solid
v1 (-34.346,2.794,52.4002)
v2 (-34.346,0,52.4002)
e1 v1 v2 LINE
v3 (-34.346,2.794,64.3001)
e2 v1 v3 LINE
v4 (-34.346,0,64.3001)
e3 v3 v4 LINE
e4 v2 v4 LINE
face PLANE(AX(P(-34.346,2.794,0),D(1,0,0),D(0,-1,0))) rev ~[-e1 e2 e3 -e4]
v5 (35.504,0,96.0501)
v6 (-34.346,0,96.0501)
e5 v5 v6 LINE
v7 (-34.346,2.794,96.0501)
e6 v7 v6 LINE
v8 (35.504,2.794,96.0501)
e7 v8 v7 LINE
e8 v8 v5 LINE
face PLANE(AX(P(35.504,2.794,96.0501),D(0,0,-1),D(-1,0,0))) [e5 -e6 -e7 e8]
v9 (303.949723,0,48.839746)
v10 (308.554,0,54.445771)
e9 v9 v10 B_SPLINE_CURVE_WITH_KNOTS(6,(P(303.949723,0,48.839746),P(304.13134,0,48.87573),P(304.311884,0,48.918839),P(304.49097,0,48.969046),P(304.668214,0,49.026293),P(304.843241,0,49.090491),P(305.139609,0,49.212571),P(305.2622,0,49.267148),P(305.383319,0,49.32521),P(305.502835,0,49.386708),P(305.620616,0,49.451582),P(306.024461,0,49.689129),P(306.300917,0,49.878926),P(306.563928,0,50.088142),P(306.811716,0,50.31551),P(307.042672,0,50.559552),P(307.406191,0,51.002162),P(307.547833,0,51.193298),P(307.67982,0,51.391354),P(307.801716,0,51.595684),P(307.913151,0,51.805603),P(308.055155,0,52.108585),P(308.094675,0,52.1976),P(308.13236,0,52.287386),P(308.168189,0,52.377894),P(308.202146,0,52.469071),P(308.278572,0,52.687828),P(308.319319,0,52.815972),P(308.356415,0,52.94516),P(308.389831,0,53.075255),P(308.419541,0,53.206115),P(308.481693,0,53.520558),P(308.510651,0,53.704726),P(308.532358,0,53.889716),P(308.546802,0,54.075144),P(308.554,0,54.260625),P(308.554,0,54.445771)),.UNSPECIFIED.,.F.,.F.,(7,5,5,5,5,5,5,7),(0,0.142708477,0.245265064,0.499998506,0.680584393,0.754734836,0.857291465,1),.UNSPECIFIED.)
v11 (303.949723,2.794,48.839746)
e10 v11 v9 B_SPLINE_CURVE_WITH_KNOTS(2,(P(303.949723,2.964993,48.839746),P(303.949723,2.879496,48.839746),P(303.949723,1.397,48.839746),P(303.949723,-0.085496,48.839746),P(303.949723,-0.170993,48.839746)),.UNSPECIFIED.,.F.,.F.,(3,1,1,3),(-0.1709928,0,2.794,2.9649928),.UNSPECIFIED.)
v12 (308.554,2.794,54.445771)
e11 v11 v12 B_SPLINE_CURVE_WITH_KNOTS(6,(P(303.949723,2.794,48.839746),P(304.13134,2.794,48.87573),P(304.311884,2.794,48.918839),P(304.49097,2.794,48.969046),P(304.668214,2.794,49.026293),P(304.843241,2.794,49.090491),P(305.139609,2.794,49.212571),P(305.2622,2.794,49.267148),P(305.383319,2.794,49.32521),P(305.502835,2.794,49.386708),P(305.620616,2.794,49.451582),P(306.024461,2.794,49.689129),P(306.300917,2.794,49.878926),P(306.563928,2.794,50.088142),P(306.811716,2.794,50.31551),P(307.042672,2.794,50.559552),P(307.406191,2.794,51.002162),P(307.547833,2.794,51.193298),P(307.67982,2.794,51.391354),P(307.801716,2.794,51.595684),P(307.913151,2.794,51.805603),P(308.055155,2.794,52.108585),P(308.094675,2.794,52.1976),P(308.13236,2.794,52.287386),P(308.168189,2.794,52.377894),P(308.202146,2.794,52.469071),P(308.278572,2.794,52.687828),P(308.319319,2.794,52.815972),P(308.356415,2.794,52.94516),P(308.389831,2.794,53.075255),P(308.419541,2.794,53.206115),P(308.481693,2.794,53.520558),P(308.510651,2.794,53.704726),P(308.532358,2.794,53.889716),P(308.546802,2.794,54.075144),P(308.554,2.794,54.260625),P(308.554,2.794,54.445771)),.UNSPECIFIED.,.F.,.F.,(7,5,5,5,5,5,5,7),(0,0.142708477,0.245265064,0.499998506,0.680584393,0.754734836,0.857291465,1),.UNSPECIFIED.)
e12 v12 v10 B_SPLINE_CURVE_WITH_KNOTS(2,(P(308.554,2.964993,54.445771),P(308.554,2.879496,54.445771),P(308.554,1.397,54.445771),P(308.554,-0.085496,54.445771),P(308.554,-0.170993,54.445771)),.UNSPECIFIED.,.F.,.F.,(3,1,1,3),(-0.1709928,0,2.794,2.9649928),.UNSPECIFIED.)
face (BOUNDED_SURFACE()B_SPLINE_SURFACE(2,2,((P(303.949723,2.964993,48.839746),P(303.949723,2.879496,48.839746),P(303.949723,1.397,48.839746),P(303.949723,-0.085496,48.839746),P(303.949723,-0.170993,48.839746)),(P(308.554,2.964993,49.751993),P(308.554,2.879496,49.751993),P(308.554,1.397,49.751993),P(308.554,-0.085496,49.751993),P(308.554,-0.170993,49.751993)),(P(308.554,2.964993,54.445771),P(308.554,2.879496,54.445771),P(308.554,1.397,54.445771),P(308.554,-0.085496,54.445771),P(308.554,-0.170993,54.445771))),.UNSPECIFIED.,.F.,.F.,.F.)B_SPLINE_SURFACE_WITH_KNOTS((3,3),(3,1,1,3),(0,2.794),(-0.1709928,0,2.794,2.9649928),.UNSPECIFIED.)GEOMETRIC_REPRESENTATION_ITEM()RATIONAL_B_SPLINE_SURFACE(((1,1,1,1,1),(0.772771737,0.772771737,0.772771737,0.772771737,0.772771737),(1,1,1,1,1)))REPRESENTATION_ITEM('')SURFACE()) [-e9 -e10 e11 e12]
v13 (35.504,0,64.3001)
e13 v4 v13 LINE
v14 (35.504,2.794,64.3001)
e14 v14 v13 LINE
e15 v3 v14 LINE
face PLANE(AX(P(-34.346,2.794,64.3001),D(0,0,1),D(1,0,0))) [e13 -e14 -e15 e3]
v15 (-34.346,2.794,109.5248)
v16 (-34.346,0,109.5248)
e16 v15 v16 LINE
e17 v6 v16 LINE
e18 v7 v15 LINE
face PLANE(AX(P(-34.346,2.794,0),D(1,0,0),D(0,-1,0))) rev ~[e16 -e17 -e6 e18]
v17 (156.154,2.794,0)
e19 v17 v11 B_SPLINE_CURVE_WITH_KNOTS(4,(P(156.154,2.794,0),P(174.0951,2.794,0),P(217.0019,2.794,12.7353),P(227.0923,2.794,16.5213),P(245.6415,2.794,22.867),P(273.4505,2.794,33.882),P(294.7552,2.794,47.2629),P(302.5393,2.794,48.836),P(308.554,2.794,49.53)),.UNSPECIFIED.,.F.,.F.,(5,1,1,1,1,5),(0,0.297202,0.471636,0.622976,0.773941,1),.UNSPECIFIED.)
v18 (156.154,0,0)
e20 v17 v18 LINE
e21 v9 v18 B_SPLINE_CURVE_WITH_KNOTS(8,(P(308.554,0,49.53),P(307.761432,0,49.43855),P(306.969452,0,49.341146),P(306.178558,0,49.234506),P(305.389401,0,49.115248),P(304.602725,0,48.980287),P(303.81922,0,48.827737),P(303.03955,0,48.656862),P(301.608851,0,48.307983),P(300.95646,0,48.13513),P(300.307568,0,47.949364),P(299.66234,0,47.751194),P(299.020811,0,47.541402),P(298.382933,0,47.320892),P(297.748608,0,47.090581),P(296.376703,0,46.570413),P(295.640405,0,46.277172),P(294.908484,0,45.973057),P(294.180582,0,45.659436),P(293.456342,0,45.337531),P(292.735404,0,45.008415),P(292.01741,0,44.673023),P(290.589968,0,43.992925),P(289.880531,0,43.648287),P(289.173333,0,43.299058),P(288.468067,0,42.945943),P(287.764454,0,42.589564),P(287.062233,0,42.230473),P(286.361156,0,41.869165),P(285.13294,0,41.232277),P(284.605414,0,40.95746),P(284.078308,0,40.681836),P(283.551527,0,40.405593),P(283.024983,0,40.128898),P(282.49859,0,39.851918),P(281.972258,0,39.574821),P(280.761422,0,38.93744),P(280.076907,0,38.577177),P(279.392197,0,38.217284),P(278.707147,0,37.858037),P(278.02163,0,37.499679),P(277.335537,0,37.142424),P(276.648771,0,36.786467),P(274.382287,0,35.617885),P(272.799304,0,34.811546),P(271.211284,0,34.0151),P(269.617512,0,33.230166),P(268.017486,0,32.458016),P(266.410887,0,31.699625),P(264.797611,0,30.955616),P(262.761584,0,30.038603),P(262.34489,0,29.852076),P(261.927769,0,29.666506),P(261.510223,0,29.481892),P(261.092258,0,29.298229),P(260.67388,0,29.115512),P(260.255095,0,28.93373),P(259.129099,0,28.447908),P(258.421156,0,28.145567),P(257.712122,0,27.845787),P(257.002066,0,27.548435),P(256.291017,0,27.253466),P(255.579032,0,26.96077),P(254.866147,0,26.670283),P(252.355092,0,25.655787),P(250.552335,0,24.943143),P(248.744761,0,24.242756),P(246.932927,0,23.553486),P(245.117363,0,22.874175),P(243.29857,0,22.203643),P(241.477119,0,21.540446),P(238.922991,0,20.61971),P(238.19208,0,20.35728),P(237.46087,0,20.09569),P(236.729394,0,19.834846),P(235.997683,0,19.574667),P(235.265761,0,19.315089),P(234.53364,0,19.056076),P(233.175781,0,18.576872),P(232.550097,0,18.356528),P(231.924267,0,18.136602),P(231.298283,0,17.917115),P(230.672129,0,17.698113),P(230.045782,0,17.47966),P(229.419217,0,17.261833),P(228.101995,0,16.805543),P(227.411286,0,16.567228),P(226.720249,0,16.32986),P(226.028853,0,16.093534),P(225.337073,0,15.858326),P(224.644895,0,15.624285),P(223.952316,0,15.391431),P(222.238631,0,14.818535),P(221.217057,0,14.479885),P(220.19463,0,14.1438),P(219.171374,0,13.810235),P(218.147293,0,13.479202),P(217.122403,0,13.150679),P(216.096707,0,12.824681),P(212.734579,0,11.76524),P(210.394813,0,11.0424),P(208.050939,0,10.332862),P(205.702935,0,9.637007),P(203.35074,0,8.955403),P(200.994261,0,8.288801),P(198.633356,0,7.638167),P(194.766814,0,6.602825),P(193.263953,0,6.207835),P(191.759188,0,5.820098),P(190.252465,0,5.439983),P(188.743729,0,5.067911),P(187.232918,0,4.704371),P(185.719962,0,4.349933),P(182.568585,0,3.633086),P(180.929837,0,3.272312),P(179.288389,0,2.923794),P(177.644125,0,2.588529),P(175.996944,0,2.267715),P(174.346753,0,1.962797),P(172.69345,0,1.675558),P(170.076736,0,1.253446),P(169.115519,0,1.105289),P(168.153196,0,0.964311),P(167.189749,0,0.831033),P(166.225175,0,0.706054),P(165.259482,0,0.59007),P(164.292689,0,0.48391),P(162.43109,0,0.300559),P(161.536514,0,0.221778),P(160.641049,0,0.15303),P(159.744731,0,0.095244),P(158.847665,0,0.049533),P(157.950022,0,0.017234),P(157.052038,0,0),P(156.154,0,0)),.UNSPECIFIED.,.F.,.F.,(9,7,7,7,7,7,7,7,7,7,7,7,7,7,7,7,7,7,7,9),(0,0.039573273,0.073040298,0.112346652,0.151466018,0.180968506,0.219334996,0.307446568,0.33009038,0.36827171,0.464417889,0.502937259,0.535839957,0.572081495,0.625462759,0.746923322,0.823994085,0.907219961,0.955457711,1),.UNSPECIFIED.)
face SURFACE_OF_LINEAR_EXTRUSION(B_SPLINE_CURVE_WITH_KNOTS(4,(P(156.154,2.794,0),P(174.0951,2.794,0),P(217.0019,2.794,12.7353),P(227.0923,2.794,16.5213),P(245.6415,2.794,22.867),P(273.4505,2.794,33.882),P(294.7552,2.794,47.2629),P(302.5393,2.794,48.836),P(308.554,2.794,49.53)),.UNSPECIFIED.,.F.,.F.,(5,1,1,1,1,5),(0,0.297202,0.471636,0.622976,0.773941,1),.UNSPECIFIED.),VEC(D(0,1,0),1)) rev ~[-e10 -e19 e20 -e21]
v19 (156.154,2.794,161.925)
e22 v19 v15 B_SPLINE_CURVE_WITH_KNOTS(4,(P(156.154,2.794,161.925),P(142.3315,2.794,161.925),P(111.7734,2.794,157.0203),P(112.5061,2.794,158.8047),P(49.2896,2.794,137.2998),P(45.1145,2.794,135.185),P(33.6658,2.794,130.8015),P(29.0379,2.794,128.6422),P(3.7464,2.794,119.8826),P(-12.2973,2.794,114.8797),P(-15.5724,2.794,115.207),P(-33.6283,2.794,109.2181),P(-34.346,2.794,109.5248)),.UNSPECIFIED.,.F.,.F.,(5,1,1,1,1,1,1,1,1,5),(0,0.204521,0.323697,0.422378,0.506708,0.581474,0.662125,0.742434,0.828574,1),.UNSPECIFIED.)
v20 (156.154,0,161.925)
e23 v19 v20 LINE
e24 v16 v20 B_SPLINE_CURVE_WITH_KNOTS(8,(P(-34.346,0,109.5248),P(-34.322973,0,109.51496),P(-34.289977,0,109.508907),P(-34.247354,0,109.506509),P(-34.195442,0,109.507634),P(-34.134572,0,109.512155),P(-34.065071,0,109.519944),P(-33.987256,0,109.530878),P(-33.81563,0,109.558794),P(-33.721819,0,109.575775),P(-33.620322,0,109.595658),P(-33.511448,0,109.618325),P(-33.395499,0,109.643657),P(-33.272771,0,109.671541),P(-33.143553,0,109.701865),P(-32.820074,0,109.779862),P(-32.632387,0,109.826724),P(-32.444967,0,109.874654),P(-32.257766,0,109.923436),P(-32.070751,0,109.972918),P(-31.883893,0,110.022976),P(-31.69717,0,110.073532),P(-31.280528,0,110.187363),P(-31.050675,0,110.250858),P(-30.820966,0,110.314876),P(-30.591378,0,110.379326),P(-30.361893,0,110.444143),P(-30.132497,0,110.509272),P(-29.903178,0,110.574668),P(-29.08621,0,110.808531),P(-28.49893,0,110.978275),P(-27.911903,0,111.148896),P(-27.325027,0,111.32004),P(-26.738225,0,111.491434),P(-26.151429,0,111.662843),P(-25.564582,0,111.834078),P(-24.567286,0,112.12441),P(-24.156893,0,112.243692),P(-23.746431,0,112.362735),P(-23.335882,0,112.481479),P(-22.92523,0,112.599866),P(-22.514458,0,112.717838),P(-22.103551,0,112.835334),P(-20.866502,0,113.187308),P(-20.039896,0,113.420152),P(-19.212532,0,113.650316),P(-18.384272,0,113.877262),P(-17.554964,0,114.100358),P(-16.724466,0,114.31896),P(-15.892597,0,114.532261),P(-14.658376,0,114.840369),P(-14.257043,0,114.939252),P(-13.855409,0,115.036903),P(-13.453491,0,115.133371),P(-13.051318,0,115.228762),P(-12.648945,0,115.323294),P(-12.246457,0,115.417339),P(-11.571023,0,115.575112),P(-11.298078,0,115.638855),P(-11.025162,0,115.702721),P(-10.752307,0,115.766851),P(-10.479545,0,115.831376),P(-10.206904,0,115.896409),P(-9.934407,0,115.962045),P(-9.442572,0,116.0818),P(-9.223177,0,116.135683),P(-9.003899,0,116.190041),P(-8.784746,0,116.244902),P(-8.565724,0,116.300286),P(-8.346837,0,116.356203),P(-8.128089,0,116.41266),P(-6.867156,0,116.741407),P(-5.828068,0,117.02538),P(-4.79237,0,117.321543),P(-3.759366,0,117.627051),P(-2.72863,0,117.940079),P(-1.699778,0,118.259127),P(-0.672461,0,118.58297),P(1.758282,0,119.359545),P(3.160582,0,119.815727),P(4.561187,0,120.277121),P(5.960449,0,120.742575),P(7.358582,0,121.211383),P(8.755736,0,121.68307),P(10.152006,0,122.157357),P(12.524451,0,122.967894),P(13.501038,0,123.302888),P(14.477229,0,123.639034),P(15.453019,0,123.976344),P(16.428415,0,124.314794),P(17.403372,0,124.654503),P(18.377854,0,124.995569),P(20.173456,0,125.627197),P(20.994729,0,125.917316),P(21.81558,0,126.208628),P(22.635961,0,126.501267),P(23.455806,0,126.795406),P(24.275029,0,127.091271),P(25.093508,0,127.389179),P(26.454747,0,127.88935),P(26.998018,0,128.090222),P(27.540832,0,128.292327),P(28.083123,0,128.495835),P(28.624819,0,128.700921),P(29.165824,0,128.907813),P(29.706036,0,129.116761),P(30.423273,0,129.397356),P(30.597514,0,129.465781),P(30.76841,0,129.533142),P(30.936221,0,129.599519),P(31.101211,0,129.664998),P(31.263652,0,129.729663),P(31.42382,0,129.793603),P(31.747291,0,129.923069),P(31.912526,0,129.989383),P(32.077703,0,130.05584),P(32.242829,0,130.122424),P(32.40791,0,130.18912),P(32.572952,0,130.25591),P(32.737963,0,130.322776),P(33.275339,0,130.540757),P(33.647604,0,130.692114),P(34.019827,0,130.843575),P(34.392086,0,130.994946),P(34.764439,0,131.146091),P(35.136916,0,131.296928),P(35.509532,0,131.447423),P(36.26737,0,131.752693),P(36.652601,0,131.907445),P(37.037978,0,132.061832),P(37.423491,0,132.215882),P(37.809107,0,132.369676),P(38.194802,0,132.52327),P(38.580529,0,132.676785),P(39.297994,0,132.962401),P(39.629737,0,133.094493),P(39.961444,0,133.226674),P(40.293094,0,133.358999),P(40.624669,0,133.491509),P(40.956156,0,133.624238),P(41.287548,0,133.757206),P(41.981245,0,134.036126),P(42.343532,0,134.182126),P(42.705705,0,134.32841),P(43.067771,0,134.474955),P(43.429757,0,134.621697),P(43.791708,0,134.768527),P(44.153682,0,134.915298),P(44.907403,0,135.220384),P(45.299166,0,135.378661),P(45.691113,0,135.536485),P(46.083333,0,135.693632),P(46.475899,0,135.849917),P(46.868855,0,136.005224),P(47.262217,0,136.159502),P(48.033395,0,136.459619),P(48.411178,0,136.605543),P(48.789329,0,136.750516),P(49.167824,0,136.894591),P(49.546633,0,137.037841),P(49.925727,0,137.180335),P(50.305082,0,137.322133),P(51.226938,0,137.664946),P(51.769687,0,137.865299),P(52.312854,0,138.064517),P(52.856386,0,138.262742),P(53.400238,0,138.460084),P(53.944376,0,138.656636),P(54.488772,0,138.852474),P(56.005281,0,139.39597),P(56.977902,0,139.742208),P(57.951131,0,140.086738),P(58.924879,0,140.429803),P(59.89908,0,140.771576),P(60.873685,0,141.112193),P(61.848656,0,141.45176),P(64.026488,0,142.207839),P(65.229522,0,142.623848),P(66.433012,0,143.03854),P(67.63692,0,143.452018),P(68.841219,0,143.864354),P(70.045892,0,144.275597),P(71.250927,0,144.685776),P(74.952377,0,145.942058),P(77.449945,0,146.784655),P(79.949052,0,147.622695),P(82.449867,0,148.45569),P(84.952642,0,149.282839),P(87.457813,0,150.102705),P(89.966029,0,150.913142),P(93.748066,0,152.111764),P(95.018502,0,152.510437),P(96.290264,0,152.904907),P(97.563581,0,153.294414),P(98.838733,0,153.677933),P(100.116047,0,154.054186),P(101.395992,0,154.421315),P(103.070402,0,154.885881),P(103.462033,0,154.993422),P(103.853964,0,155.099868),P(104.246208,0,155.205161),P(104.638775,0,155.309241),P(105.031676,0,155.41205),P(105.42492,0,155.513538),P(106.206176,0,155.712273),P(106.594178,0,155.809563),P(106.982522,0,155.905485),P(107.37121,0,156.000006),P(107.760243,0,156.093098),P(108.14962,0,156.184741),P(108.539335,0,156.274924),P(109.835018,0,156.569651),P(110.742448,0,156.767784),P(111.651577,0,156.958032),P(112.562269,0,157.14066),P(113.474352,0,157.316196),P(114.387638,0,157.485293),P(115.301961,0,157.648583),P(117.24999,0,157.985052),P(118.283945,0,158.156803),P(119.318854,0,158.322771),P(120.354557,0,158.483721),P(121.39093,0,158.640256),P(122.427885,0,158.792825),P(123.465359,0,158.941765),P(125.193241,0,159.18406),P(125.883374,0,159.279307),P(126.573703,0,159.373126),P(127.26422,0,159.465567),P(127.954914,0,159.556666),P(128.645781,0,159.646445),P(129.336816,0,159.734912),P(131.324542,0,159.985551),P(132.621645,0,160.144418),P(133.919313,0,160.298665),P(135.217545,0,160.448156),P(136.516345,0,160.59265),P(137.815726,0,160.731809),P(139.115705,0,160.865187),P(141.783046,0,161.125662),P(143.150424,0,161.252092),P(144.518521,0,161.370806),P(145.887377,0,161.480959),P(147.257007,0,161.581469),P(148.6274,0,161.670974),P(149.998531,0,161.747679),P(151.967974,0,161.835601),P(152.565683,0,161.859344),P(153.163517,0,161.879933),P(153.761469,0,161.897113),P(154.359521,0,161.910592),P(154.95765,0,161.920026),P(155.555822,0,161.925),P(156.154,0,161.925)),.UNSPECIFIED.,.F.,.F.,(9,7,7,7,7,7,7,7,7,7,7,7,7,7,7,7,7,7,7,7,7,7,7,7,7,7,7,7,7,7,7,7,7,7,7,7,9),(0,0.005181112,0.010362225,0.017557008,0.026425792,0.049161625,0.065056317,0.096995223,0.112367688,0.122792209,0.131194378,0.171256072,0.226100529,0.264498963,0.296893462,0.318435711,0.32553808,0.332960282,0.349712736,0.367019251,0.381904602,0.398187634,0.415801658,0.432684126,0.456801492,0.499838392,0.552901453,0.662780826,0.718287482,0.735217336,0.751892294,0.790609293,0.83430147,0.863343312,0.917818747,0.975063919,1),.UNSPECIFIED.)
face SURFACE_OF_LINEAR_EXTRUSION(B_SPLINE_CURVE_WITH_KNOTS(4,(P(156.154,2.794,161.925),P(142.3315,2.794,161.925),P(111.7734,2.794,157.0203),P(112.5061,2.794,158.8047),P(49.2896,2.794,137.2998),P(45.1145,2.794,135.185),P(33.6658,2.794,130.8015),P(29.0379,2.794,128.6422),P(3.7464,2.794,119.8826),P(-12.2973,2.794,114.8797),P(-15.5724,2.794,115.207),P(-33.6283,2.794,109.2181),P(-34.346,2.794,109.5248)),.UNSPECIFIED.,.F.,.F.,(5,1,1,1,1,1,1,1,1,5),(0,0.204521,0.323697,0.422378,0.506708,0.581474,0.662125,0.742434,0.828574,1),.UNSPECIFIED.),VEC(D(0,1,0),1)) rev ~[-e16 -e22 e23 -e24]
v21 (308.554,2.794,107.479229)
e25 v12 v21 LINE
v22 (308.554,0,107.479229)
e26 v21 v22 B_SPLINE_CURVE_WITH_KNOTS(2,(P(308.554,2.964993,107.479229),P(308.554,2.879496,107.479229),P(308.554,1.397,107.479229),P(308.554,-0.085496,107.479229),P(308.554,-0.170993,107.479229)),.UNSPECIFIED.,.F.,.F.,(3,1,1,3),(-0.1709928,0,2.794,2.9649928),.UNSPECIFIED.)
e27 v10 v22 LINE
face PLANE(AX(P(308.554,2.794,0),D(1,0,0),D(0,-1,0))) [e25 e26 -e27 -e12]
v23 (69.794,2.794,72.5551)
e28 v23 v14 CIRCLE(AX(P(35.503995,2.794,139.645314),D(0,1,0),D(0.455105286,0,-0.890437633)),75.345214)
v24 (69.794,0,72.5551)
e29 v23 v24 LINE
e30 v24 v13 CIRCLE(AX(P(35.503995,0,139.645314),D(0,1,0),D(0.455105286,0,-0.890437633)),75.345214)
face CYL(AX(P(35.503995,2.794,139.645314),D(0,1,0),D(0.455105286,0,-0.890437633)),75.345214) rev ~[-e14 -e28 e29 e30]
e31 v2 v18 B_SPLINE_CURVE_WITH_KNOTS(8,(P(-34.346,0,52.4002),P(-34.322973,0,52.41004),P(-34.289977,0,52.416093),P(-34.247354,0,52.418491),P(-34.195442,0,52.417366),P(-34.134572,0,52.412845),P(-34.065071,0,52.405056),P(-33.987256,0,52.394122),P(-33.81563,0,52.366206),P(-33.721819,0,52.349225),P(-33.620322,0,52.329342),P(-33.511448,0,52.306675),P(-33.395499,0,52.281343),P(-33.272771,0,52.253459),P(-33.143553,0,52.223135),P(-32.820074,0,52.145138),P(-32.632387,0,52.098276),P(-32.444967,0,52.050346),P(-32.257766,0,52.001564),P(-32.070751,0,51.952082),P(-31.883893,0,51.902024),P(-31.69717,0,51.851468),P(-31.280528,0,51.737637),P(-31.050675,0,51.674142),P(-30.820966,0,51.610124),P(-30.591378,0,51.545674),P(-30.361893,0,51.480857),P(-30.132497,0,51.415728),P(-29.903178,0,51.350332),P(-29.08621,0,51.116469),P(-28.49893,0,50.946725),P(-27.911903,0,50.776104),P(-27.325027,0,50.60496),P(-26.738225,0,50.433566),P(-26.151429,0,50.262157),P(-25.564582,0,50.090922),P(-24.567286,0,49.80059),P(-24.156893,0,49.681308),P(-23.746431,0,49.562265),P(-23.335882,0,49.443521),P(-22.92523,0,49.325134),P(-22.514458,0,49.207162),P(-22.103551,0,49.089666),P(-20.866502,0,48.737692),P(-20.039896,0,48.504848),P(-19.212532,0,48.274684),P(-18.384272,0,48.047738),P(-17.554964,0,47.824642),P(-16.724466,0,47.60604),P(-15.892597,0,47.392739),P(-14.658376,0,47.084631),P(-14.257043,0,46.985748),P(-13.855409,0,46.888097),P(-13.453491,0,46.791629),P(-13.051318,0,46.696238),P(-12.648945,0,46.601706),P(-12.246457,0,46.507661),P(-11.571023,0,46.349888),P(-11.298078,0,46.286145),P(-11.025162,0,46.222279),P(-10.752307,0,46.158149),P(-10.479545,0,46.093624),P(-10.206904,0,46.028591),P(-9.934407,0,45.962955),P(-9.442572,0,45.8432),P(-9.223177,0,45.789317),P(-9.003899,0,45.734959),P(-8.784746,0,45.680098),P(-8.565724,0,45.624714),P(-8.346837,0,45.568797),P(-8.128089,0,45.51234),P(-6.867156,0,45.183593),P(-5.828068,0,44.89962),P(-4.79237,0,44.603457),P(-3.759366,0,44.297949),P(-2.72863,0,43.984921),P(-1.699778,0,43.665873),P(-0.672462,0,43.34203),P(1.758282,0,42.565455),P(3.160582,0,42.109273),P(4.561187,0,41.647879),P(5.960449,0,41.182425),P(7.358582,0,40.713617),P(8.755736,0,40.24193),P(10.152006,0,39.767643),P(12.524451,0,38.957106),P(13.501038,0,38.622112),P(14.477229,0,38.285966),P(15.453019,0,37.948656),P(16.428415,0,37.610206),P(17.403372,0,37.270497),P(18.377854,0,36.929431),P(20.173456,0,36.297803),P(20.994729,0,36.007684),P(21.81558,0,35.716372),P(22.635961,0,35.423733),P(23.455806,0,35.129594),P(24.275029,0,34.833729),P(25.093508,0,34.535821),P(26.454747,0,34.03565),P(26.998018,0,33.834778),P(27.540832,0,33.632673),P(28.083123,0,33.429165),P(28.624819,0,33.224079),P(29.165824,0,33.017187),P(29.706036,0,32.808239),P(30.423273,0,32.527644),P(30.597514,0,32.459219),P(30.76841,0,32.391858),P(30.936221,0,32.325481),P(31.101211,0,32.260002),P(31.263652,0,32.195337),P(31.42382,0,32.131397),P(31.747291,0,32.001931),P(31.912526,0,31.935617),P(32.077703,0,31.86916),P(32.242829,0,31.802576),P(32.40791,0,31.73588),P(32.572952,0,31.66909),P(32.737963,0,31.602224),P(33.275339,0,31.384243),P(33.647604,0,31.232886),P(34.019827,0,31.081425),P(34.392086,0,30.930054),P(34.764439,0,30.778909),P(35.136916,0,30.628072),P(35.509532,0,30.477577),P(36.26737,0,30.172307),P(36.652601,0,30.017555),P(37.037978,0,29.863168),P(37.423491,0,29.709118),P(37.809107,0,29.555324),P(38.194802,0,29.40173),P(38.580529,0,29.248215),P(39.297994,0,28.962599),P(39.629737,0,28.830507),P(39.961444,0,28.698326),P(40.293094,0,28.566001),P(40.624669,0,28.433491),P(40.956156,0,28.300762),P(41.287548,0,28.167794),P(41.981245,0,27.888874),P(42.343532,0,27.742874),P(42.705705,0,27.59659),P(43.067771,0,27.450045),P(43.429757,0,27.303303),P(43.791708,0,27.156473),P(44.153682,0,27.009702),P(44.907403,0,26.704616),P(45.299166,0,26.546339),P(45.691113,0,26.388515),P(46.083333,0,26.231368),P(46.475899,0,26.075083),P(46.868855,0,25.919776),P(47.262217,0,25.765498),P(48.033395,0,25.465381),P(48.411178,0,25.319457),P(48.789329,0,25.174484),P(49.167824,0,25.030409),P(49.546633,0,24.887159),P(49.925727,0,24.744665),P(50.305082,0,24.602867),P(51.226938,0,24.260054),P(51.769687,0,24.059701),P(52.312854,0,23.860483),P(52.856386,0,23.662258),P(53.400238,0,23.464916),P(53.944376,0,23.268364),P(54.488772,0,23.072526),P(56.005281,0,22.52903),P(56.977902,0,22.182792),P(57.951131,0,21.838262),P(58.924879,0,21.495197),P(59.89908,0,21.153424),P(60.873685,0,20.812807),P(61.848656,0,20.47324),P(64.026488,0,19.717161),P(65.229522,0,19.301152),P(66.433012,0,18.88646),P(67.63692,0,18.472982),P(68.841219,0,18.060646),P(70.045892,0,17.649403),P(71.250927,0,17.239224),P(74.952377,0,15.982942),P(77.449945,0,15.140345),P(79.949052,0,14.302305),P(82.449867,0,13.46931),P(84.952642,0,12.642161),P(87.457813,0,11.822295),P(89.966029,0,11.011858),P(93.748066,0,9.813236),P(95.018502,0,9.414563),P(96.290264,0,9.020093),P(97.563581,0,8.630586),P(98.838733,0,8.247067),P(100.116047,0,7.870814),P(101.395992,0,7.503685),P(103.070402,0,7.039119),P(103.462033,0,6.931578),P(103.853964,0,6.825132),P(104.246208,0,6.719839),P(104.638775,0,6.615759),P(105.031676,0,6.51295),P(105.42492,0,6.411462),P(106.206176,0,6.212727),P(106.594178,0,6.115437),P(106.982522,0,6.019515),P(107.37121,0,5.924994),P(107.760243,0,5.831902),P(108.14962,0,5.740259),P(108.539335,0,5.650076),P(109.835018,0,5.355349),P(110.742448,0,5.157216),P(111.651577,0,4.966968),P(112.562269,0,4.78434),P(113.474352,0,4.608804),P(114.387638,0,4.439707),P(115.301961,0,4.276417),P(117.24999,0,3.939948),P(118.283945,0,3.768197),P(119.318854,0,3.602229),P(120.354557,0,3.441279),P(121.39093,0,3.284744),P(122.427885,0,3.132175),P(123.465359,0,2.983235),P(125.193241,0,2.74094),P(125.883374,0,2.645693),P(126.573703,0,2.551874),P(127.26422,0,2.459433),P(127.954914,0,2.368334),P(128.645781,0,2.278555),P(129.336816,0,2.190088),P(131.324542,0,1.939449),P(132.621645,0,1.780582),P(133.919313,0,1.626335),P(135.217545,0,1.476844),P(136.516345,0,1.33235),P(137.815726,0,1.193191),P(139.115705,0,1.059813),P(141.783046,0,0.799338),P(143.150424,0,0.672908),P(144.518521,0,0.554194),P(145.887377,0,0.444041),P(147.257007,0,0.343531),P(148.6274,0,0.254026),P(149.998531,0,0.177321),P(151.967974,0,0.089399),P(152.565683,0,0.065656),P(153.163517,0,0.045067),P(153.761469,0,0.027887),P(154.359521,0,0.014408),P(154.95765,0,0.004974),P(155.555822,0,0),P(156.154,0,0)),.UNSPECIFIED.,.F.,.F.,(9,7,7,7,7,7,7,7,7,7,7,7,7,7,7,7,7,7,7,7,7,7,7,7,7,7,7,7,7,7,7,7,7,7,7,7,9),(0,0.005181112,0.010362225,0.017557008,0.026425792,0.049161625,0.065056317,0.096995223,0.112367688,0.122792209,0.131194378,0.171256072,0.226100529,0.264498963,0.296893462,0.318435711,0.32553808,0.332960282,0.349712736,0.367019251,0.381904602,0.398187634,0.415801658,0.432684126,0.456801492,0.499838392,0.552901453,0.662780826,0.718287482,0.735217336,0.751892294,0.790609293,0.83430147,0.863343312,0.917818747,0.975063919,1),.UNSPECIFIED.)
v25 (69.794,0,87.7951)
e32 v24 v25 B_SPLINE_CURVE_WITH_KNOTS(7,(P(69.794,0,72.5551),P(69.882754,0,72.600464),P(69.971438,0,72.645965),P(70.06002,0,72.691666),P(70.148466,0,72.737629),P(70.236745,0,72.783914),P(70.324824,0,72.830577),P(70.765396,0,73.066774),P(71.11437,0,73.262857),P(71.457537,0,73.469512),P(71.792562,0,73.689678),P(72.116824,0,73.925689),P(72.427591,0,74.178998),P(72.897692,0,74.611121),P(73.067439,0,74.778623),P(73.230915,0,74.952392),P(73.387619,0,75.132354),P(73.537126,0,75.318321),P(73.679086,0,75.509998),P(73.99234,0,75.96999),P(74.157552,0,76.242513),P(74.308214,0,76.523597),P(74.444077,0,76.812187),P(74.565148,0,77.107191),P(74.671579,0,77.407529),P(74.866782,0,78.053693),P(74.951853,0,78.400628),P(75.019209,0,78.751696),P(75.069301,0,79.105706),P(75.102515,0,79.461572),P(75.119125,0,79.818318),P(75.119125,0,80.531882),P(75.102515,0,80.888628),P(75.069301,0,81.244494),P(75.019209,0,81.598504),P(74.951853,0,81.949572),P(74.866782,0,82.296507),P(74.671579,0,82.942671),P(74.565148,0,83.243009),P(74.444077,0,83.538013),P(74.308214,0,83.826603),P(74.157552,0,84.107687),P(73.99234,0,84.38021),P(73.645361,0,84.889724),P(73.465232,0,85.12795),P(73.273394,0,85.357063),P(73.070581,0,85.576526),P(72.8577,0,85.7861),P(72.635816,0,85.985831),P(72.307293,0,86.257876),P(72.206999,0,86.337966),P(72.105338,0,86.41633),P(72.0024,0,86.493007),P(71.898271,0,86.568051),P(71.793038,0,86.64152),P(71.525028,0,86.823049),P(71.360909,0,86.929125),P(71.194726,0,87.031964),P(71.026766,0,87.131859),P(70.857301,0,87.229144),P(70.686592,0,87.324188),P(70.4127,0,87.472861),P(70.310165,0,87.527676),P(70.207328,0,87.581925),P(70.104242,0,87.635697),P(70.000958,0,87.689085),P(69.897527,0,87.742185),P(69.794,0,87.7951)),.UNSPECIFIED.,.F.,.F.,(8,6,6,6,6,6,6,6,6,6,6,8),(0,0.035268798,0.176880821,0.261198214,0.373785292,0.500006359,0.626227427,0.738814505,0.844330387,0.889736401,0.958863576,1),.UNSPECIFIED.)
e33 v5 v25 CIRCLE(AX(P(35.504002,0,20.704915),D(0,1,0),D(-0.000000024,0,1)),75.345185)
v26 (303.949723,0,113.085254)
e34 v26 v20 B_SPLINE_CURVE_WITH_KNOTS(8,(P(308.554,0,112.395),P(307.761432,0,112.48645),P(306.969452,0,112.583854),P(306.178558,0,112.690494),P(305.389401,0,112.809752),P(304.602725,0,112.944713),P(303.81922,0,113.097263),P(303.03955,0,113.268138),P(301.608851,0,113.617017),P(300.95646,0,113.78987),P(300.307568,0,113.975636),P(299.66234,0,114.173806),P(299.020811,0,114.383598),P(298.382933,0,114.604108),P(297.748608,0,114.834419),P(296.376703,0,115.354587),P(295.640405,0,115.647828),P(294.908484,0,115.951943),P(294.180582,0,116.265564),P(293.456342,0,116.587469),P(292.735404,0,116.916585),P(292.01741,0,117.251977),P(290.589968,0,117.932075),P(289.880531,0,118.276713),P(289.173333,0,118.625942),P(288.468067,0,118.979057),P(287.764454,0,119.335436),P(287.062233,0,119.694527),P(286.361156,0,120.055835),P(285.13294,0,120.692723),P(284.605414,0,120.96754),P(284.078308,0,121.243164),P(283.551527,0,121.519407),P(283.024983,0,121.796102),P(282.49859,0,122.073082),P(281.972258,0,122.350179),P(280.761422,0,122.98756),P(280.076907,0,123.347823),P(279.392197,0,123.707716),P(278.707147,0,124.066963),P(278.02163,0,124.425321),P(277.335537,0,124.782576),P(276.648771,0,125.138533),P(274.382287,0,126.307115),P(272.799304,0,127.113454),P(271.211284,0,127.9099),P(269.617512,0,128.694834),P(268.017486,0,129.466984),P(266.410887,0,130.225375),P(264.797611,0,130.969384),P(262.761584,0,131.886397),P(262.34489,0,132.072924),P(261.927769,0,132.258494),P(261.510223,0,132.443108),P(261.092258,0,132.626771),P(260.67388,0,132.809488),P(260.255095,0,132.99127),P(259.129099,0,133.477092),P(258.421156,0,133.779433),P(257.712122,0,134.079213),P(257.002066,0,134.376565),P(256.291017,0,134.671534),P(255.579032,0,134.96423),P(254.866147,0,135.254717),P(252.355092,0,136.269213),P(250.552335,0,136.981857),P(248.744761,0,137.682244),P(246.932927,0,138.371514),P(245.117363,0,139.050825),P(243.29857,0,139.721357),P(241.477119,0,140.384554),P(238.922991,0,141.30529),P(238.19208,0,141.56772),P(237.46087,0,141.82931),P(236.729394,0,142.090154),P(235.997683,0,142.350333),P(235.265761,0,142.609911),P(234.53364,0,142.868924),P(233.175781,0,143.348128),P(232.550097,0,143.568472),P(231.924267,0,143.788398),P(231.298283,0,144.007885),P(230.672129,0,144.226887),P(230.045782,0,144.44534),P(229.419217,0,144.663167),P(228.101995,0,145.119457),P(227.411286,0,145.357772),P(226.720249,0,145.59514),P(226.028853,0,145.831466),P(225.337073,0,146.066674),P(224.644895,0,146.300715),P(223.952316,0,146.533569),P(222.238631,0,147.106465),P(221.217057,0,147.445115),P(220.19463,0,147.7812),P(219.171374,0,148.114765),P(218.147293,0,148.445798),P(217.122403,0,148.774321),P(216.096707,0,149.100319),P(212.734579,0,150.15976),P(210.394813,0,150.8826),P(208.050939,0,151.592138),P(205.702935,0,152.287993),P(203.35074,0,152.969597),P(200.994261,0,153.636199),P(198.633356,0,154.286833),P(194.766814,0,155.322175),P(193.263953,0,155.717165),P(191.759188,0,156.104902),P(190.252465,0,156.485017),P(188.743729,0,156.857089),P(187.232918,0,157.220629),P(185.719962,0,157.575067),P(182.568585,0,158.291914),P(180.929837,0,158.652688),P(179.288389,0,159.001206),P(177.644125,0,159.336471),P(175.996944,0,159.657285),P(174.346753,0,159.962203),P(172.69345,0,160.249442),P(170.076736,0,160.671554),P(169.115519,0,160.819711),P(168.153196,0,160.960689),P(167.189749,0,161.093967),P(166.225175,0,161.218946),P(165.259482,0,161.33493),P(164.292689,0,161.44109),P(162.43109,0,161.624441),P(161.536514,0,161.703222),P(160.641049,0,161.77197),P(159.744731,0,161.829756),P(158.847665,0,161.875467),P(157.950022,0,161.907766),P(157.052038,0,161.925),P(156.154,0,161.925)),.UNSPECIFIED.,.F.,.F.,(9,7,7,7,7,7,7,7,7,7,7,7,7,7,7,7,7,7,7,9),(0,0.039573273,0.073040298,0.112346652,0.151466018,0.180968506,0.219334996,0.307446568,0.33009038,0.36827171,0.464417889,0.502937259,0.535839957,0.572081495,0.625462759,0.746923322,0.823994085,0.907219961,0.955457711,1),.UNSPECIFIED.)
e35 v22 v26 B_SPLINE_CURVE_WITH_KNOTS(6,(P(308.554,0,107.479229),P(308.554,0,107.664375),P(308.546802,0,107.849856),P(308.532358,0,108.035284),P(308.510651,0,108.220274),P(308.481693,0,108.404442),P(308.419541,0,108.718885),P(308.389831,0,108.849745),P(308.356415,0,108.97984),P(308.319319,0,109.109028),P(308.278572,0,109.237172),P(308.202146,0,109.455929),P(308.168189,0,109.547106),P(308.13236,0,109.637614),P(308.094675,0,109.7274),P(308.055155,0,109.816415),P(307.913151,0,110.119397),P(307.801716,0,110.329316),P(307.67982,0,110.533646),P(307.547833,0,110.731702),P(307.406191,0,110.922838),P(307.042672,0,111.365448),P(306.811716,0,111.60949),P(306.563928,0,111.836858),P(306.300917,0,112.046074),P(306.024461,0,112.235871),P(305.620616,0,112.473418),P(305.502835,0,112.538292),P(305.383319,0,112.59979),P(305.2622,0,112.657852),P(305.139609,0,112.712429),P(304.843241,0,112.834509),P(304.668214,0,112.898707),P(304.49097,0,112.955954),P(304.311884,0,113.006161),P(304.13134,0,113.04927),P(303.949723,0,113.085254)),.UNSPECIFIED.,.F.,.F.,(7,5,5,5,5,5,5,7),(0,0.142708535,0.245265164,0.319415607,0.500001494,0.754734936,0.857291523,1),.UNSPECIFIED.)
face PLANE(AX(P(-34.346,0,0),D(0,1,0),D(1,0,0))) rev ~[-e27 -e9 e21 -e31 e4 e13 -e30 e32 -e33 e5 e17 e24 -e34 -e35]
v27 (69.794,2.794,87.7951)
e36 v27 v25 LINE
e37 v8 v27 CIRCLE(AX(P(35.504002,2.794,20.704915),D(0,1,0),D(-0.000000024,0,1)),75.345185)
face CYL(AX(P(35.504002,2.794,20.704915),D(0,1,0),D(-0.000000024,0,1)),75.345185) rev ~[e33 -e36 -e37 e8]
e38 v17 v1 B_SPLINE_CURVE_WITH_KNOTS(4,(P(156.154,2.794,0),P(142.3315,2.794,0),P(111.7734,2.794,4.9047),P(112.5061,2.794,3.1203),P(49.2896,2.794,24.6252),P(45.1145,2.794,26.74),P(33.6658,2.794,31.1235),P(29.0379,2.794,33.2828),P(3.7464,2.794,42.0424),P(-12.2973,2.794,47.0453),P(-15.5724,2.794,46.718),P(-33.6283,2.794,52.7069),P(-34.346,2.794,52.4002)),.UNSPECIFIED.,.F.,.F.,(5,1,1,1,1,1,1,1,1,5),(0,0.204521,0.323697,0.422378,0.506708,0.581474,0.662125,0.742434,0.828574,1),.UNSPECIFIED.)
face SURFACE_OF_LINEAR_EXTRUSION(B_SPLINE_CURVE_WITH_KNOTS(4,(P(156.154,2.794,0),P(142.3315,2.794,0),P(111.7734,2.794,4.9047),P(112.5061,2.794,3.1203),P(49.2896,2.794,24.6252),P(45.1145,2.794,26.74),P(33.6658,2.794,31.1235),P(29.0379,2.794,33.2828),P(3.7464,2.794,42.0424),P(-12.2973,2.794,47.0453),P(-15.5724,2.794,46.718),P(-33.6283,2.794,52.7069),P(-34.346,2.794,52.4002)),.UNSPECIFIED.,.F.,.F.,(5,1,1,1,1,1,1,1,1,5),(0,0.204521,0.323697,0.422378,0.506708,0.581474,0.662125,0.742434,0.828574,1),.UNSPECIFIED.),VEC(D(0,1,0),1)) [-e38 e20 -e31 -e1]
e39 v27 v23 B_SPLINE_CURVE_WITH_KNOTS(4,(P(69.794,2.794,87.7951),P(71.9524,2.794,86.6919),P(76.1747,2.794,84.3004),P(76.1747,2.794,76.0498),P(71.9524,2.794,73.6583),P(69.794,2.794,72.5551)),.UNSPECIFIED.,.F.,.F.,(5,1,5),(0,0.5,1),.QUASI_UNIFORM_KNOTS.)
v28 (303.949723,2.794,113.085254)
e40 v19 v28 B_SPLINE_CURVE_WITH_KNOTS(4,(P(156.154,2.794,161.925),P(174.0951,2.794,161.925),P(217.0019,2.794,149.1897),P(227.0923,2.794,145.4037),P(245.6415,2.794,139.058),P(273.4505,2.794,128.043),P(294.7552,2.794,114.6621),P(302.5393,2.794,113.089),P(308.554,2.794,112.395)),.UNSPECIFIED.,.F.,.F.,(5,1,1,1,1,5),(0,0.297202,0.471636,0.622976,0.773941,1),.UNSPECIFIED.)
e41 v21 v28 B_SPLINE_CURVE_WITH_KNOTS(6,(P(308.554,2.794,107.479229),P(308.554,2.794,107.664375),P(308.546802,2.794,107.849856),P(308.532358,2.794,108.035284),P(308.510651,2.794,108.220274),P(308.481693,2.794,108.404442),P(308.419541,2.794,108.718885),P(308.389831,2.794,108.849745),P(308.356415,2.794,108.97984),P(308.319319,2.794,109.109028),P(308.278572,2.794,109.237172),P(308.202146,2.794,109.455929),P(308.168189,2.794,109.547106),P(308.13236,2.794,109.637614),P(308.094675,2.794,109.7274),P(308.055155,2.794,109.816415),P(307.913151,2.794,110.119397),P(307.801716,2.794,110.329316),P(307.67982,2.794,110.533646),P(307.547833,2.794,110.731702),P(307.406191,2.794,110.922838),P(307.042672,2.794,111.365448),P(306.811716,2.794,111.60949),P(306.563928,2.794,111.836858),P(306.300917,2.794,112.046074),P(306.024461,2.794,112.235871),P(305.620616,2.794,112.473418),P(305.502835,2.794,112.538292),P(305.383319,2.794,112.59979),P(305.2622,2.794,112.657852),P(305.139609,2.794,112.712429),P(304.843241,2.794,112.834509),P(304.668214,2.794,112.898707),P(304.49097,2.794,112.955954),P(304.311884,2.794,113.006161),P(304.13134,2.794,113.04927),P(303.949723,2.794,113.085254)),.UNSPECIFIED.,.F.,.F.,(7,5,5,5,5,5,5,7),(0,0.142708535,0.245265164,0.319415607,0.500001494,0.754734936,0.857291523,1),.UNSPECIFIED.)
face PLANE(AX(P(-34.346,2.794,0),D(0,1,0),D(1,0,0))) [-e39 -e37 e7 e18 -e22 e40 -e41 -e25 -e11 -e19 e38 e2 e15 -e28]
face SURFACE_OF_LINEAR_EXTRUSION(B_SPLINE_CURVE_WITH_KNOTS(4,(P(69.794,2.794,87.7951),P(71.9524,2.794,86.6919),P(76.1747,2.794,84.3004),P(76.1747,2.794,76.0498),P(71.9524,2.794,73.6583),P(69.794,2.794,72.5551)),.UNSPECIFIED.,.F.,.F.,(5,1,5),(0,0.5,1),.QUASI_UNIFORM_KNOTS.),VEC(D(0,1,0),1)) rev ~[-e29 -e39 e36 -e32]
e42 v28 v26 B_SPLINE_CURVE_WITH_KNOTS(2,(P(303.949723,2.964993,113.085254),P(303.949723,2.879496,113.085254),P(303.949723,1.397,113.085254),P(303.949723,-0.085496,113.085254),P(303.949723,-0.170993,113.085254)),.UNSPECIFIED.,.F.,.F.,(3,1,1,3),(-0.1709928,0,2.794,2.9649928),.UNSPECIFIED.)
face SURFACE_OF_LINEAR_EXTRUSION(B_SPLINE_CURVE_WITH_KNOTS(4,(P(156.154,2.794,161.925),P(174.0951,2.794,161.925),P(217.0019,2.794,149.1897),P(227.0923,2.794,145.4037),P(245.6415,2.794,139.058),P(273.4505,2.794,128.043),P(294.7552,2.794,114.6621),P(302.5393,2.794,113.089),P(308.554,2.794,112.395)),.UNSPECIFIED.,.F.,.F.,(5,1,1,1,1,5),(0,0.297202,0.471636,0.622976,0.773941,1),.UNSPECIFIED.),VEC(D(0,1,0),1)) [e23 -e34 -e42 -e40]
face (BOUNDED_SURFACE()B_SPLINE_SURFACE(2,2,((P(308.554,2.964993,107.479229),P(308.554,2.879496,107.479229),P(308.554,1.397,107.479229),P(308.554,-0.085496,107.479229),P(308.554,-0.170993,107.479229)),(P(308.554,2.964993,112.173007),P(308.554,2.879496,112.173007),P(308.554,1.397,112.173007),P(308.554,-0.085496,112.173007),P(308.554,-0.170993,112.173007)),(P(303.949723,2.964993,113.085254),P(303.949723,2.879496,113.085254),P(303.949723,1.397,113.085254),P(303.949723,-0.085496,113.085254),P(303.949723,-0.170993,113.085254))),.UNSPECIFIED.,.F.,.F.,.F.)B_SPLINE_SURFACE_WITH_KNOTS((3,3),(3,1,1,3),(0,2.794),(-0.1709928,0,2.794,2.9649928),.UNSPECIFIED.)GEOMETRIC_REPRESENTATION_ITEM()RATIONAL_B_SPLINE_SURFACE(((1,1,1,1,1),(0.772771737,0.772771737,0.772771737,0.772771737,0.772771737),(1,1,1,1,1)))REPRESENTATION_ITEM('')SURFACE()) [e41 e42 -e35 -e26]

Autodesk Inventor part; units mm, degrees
ref_plane "YZ Plane" through (0, 0, 0) normal (1, 0, 0) x (0, 1, 0)
ref_plane "XZ Plane" through (0, 0, 0) normal (0, 1, 0) x (-1, 0, 0)
sketch "Sketch1" plane through (0, 0, 0) normal (0, 0, 1) x (1, 0, 0)
  line L0 (-34.346, 0) -> (308.554, 0)
  line L1 (-34.346, 2.794) -> (-34.346, 0)
  line L2 (-34.346, 2.794) -> (308.554, 2.794)
  line L3 (308.554, 2.794) -> (308.554, 0)
  point P0 (0, 0)
  dimension "d102" = 342.9
extrude "Extrusion1" add sketch "Sketch1" along normal blind 161.925
sketch "Sketch2" plane through (-34.346, 2.794, 0) normal (0, 1, 0) x (1, 0, 0)
  line L0 (0, 0) -> (0, -161.925) projected
  line L1 (0, -80.9625) -> (355.6, -80.9625)
  line L2 (342.9, 0) -> (0, 0) projected
  line L3 (0, 0) -> (342.9, 0) projected
  spline S0 degree 4 poles (190.5, 0) (176.6775, 0) (146.1194, -4.9047) (146.8521, -3.1203) (83.6356, -24.6252) (79.4605, -26.74) (68.0118, -31.1235) (63.3839, -33.2828) (38.0924, -42.0424) (22.0487, -47.0453) (18.7736, -46.718) (0.7177, -52.7069) (0, -52.4002) knots 0 0 0 0 0 0.204521 0.323697 0.422378 0.506708 0.581474 0.662125 0.742434 0.828574 1 1 1 1 1
  line L4 (0, -52.4002) -> (0, 0)
  line L5 (190.5, 0) -> (0, 0)
  line L6 (342.9, 0) -> (342.9, -161.925) projected
  spline S1 degree 4 poles (190.5, 0) (208.4411, 0) (251.3479, -12.7353) (261.4383, -16.5213) (279.9875, -22.867) (307.7965, -33.882) (329.1012, -47.2629) (336.8853, -48.836) (342.9, -49.53) knots 0 0 0 0 0 0.297202 0.471636 0.622976 0.773941 1 1 1 1 1
  line L7 (324.9507, -47.459) -> (360.8493, -51.601) construction
  arc A0 (328.7385, -47.0401) -> (357.2564, -50.3305) centre (356.8343, 71.2391) ccw construction
  line L8 (199.9843, 0) -> (190.5, 0)
  point P0 (34.346, 0)
  point P1 (0, -112.0775)
  point P2 (184.15, -161.925)
  point P3 (6.35, -50.8)
  point P4 (19.05, -47.244)
  point P5 (25.4, -45.72)
  point P6 (63.5, -33.02)
  point P7 (38.1, -41.91)
  point P8 (76.2, -27.94)
  point P9 (127, -10.16)
  point P10 (152.4, -3.81)
  point P11 (69.85, -30.48)
  point P12 (82.55, -25.4)
  point P13 (266.7, -18.288)
  point P14 (279.4, -22.86)
  point P15 (304.8, -33.655)
  point P16 (330.2, -46.355)
  point P17 (342.9, -49.53)
  dimension "d8" = 31.115
  dimension "d9" = 184.15
  dimension "d12" = 52.4002
  dimension "d13" = 50.8
  dimension "d15" = 47.244
  dimension "d16" = 6.35
  dimension "d19" = 6.35
  dimension "d20" = 45.72
  dimension "d31" = 41.91
  dimension "d35" = 33.02
  dimension "d37" = 27.94
  dimension "d38" = 12.7
  dimension "d45" = 10.16
  dimension "d49" = 3.81
  dimension "d57" = 30.48
  dimension "d58" = 6.35
  dimension "d60" = 25.4
  dimension "d89" = 190.5
  dimension "d95" = 12.7
  dimension "d96" = 12.7
  dimension "d107" = 13.97
  dimension "d108" = 18.288
  dimension "d109" = 22.86
  dimension "d111" = 33.655
  dimension "d112" = 46.355
  dimension "d113" = 25.4
  dimension "d114" = 49.53
extrude "Extrusion2" cut sketch "Sketch2" against normal blind 25.4 contours L2 S0 L0 | L2 L6 S1
ref_plane "Work Plane2" through (0, 0, 80.9625) normal (0, 0, -1) x (-1, 0, 0)
mirror "Mirror1" about plane through (0, 0, 80.9625) normal (0, 0, -1) of "Extrusion2"
sketch "Sketch3" plane through (308.554, 2.794, 161.925) normal (0, 1, 0) x (1, 0, 0)
  line L0 (-342.9, 109.5248) -> (-342.9, 52.4002) projected
  line L1 (-342.9, 97.6249) -> (-273.05, 97.6249)
  line L2 (-234.95, 96.0374) -> (-234.95, 9.9368) construction
  line L3 (-273.05, 65.8749) -> (-342.9, 65.8749)
  line L4 (-342.9, 65.8749) -> (-342.9, 97.6249)
  line L5 (-273.05, 97.6249) -> (-273.05, 65.8749)
  arc A0 (-273.05, 65.8749) -> (-238.76, 74.1299) centre (-273.05, 141.2201) ccw
  arc A1 (-238.76, 89.3699) -> (-273.05, 97.6249) centre (-273.05, 22.2797) ccw
  line L6 (-238.76, 96.0374) -> (-238.76, 64.2874) construction
  spline S0 degree 4 poles (-238.76, 74.1299) (-236.6016, 75.2331) (-232.3793, 77.6246) (-232.3793, 85.8752) (-236.6016, 88.2667) (-238.76, 89.3699) knots 0 0 0 0 0 0.5 1 1 1 1 1
  point P0 (-308.554, 161.925)
  dimension "d75" = 31.75
  dimension "d78" = 57.1246
  dimension "d79" = 11.8999
  dimension "d80" = 38.1
  dimension "d81" = 15.24
  dimension "d82" = 0
  dimension "d83" = 8.255
  dimension "d84" = 3.81
  dimension "d85" = 0
  dimension "d86" = 107.95
extrude "Extrusion3" cut sketch "Sketch3" against normal blind 25.4
fillet "Fillet1" radius 5.715 1 edges at (308.554, 1.397, 49.53)
fillet "Fillet2" radius 5.715 1 edges at (308.554, 1.397, 112.395)
equation "\"d8\" = d7"
equation "\"d7\" = 31.115"
